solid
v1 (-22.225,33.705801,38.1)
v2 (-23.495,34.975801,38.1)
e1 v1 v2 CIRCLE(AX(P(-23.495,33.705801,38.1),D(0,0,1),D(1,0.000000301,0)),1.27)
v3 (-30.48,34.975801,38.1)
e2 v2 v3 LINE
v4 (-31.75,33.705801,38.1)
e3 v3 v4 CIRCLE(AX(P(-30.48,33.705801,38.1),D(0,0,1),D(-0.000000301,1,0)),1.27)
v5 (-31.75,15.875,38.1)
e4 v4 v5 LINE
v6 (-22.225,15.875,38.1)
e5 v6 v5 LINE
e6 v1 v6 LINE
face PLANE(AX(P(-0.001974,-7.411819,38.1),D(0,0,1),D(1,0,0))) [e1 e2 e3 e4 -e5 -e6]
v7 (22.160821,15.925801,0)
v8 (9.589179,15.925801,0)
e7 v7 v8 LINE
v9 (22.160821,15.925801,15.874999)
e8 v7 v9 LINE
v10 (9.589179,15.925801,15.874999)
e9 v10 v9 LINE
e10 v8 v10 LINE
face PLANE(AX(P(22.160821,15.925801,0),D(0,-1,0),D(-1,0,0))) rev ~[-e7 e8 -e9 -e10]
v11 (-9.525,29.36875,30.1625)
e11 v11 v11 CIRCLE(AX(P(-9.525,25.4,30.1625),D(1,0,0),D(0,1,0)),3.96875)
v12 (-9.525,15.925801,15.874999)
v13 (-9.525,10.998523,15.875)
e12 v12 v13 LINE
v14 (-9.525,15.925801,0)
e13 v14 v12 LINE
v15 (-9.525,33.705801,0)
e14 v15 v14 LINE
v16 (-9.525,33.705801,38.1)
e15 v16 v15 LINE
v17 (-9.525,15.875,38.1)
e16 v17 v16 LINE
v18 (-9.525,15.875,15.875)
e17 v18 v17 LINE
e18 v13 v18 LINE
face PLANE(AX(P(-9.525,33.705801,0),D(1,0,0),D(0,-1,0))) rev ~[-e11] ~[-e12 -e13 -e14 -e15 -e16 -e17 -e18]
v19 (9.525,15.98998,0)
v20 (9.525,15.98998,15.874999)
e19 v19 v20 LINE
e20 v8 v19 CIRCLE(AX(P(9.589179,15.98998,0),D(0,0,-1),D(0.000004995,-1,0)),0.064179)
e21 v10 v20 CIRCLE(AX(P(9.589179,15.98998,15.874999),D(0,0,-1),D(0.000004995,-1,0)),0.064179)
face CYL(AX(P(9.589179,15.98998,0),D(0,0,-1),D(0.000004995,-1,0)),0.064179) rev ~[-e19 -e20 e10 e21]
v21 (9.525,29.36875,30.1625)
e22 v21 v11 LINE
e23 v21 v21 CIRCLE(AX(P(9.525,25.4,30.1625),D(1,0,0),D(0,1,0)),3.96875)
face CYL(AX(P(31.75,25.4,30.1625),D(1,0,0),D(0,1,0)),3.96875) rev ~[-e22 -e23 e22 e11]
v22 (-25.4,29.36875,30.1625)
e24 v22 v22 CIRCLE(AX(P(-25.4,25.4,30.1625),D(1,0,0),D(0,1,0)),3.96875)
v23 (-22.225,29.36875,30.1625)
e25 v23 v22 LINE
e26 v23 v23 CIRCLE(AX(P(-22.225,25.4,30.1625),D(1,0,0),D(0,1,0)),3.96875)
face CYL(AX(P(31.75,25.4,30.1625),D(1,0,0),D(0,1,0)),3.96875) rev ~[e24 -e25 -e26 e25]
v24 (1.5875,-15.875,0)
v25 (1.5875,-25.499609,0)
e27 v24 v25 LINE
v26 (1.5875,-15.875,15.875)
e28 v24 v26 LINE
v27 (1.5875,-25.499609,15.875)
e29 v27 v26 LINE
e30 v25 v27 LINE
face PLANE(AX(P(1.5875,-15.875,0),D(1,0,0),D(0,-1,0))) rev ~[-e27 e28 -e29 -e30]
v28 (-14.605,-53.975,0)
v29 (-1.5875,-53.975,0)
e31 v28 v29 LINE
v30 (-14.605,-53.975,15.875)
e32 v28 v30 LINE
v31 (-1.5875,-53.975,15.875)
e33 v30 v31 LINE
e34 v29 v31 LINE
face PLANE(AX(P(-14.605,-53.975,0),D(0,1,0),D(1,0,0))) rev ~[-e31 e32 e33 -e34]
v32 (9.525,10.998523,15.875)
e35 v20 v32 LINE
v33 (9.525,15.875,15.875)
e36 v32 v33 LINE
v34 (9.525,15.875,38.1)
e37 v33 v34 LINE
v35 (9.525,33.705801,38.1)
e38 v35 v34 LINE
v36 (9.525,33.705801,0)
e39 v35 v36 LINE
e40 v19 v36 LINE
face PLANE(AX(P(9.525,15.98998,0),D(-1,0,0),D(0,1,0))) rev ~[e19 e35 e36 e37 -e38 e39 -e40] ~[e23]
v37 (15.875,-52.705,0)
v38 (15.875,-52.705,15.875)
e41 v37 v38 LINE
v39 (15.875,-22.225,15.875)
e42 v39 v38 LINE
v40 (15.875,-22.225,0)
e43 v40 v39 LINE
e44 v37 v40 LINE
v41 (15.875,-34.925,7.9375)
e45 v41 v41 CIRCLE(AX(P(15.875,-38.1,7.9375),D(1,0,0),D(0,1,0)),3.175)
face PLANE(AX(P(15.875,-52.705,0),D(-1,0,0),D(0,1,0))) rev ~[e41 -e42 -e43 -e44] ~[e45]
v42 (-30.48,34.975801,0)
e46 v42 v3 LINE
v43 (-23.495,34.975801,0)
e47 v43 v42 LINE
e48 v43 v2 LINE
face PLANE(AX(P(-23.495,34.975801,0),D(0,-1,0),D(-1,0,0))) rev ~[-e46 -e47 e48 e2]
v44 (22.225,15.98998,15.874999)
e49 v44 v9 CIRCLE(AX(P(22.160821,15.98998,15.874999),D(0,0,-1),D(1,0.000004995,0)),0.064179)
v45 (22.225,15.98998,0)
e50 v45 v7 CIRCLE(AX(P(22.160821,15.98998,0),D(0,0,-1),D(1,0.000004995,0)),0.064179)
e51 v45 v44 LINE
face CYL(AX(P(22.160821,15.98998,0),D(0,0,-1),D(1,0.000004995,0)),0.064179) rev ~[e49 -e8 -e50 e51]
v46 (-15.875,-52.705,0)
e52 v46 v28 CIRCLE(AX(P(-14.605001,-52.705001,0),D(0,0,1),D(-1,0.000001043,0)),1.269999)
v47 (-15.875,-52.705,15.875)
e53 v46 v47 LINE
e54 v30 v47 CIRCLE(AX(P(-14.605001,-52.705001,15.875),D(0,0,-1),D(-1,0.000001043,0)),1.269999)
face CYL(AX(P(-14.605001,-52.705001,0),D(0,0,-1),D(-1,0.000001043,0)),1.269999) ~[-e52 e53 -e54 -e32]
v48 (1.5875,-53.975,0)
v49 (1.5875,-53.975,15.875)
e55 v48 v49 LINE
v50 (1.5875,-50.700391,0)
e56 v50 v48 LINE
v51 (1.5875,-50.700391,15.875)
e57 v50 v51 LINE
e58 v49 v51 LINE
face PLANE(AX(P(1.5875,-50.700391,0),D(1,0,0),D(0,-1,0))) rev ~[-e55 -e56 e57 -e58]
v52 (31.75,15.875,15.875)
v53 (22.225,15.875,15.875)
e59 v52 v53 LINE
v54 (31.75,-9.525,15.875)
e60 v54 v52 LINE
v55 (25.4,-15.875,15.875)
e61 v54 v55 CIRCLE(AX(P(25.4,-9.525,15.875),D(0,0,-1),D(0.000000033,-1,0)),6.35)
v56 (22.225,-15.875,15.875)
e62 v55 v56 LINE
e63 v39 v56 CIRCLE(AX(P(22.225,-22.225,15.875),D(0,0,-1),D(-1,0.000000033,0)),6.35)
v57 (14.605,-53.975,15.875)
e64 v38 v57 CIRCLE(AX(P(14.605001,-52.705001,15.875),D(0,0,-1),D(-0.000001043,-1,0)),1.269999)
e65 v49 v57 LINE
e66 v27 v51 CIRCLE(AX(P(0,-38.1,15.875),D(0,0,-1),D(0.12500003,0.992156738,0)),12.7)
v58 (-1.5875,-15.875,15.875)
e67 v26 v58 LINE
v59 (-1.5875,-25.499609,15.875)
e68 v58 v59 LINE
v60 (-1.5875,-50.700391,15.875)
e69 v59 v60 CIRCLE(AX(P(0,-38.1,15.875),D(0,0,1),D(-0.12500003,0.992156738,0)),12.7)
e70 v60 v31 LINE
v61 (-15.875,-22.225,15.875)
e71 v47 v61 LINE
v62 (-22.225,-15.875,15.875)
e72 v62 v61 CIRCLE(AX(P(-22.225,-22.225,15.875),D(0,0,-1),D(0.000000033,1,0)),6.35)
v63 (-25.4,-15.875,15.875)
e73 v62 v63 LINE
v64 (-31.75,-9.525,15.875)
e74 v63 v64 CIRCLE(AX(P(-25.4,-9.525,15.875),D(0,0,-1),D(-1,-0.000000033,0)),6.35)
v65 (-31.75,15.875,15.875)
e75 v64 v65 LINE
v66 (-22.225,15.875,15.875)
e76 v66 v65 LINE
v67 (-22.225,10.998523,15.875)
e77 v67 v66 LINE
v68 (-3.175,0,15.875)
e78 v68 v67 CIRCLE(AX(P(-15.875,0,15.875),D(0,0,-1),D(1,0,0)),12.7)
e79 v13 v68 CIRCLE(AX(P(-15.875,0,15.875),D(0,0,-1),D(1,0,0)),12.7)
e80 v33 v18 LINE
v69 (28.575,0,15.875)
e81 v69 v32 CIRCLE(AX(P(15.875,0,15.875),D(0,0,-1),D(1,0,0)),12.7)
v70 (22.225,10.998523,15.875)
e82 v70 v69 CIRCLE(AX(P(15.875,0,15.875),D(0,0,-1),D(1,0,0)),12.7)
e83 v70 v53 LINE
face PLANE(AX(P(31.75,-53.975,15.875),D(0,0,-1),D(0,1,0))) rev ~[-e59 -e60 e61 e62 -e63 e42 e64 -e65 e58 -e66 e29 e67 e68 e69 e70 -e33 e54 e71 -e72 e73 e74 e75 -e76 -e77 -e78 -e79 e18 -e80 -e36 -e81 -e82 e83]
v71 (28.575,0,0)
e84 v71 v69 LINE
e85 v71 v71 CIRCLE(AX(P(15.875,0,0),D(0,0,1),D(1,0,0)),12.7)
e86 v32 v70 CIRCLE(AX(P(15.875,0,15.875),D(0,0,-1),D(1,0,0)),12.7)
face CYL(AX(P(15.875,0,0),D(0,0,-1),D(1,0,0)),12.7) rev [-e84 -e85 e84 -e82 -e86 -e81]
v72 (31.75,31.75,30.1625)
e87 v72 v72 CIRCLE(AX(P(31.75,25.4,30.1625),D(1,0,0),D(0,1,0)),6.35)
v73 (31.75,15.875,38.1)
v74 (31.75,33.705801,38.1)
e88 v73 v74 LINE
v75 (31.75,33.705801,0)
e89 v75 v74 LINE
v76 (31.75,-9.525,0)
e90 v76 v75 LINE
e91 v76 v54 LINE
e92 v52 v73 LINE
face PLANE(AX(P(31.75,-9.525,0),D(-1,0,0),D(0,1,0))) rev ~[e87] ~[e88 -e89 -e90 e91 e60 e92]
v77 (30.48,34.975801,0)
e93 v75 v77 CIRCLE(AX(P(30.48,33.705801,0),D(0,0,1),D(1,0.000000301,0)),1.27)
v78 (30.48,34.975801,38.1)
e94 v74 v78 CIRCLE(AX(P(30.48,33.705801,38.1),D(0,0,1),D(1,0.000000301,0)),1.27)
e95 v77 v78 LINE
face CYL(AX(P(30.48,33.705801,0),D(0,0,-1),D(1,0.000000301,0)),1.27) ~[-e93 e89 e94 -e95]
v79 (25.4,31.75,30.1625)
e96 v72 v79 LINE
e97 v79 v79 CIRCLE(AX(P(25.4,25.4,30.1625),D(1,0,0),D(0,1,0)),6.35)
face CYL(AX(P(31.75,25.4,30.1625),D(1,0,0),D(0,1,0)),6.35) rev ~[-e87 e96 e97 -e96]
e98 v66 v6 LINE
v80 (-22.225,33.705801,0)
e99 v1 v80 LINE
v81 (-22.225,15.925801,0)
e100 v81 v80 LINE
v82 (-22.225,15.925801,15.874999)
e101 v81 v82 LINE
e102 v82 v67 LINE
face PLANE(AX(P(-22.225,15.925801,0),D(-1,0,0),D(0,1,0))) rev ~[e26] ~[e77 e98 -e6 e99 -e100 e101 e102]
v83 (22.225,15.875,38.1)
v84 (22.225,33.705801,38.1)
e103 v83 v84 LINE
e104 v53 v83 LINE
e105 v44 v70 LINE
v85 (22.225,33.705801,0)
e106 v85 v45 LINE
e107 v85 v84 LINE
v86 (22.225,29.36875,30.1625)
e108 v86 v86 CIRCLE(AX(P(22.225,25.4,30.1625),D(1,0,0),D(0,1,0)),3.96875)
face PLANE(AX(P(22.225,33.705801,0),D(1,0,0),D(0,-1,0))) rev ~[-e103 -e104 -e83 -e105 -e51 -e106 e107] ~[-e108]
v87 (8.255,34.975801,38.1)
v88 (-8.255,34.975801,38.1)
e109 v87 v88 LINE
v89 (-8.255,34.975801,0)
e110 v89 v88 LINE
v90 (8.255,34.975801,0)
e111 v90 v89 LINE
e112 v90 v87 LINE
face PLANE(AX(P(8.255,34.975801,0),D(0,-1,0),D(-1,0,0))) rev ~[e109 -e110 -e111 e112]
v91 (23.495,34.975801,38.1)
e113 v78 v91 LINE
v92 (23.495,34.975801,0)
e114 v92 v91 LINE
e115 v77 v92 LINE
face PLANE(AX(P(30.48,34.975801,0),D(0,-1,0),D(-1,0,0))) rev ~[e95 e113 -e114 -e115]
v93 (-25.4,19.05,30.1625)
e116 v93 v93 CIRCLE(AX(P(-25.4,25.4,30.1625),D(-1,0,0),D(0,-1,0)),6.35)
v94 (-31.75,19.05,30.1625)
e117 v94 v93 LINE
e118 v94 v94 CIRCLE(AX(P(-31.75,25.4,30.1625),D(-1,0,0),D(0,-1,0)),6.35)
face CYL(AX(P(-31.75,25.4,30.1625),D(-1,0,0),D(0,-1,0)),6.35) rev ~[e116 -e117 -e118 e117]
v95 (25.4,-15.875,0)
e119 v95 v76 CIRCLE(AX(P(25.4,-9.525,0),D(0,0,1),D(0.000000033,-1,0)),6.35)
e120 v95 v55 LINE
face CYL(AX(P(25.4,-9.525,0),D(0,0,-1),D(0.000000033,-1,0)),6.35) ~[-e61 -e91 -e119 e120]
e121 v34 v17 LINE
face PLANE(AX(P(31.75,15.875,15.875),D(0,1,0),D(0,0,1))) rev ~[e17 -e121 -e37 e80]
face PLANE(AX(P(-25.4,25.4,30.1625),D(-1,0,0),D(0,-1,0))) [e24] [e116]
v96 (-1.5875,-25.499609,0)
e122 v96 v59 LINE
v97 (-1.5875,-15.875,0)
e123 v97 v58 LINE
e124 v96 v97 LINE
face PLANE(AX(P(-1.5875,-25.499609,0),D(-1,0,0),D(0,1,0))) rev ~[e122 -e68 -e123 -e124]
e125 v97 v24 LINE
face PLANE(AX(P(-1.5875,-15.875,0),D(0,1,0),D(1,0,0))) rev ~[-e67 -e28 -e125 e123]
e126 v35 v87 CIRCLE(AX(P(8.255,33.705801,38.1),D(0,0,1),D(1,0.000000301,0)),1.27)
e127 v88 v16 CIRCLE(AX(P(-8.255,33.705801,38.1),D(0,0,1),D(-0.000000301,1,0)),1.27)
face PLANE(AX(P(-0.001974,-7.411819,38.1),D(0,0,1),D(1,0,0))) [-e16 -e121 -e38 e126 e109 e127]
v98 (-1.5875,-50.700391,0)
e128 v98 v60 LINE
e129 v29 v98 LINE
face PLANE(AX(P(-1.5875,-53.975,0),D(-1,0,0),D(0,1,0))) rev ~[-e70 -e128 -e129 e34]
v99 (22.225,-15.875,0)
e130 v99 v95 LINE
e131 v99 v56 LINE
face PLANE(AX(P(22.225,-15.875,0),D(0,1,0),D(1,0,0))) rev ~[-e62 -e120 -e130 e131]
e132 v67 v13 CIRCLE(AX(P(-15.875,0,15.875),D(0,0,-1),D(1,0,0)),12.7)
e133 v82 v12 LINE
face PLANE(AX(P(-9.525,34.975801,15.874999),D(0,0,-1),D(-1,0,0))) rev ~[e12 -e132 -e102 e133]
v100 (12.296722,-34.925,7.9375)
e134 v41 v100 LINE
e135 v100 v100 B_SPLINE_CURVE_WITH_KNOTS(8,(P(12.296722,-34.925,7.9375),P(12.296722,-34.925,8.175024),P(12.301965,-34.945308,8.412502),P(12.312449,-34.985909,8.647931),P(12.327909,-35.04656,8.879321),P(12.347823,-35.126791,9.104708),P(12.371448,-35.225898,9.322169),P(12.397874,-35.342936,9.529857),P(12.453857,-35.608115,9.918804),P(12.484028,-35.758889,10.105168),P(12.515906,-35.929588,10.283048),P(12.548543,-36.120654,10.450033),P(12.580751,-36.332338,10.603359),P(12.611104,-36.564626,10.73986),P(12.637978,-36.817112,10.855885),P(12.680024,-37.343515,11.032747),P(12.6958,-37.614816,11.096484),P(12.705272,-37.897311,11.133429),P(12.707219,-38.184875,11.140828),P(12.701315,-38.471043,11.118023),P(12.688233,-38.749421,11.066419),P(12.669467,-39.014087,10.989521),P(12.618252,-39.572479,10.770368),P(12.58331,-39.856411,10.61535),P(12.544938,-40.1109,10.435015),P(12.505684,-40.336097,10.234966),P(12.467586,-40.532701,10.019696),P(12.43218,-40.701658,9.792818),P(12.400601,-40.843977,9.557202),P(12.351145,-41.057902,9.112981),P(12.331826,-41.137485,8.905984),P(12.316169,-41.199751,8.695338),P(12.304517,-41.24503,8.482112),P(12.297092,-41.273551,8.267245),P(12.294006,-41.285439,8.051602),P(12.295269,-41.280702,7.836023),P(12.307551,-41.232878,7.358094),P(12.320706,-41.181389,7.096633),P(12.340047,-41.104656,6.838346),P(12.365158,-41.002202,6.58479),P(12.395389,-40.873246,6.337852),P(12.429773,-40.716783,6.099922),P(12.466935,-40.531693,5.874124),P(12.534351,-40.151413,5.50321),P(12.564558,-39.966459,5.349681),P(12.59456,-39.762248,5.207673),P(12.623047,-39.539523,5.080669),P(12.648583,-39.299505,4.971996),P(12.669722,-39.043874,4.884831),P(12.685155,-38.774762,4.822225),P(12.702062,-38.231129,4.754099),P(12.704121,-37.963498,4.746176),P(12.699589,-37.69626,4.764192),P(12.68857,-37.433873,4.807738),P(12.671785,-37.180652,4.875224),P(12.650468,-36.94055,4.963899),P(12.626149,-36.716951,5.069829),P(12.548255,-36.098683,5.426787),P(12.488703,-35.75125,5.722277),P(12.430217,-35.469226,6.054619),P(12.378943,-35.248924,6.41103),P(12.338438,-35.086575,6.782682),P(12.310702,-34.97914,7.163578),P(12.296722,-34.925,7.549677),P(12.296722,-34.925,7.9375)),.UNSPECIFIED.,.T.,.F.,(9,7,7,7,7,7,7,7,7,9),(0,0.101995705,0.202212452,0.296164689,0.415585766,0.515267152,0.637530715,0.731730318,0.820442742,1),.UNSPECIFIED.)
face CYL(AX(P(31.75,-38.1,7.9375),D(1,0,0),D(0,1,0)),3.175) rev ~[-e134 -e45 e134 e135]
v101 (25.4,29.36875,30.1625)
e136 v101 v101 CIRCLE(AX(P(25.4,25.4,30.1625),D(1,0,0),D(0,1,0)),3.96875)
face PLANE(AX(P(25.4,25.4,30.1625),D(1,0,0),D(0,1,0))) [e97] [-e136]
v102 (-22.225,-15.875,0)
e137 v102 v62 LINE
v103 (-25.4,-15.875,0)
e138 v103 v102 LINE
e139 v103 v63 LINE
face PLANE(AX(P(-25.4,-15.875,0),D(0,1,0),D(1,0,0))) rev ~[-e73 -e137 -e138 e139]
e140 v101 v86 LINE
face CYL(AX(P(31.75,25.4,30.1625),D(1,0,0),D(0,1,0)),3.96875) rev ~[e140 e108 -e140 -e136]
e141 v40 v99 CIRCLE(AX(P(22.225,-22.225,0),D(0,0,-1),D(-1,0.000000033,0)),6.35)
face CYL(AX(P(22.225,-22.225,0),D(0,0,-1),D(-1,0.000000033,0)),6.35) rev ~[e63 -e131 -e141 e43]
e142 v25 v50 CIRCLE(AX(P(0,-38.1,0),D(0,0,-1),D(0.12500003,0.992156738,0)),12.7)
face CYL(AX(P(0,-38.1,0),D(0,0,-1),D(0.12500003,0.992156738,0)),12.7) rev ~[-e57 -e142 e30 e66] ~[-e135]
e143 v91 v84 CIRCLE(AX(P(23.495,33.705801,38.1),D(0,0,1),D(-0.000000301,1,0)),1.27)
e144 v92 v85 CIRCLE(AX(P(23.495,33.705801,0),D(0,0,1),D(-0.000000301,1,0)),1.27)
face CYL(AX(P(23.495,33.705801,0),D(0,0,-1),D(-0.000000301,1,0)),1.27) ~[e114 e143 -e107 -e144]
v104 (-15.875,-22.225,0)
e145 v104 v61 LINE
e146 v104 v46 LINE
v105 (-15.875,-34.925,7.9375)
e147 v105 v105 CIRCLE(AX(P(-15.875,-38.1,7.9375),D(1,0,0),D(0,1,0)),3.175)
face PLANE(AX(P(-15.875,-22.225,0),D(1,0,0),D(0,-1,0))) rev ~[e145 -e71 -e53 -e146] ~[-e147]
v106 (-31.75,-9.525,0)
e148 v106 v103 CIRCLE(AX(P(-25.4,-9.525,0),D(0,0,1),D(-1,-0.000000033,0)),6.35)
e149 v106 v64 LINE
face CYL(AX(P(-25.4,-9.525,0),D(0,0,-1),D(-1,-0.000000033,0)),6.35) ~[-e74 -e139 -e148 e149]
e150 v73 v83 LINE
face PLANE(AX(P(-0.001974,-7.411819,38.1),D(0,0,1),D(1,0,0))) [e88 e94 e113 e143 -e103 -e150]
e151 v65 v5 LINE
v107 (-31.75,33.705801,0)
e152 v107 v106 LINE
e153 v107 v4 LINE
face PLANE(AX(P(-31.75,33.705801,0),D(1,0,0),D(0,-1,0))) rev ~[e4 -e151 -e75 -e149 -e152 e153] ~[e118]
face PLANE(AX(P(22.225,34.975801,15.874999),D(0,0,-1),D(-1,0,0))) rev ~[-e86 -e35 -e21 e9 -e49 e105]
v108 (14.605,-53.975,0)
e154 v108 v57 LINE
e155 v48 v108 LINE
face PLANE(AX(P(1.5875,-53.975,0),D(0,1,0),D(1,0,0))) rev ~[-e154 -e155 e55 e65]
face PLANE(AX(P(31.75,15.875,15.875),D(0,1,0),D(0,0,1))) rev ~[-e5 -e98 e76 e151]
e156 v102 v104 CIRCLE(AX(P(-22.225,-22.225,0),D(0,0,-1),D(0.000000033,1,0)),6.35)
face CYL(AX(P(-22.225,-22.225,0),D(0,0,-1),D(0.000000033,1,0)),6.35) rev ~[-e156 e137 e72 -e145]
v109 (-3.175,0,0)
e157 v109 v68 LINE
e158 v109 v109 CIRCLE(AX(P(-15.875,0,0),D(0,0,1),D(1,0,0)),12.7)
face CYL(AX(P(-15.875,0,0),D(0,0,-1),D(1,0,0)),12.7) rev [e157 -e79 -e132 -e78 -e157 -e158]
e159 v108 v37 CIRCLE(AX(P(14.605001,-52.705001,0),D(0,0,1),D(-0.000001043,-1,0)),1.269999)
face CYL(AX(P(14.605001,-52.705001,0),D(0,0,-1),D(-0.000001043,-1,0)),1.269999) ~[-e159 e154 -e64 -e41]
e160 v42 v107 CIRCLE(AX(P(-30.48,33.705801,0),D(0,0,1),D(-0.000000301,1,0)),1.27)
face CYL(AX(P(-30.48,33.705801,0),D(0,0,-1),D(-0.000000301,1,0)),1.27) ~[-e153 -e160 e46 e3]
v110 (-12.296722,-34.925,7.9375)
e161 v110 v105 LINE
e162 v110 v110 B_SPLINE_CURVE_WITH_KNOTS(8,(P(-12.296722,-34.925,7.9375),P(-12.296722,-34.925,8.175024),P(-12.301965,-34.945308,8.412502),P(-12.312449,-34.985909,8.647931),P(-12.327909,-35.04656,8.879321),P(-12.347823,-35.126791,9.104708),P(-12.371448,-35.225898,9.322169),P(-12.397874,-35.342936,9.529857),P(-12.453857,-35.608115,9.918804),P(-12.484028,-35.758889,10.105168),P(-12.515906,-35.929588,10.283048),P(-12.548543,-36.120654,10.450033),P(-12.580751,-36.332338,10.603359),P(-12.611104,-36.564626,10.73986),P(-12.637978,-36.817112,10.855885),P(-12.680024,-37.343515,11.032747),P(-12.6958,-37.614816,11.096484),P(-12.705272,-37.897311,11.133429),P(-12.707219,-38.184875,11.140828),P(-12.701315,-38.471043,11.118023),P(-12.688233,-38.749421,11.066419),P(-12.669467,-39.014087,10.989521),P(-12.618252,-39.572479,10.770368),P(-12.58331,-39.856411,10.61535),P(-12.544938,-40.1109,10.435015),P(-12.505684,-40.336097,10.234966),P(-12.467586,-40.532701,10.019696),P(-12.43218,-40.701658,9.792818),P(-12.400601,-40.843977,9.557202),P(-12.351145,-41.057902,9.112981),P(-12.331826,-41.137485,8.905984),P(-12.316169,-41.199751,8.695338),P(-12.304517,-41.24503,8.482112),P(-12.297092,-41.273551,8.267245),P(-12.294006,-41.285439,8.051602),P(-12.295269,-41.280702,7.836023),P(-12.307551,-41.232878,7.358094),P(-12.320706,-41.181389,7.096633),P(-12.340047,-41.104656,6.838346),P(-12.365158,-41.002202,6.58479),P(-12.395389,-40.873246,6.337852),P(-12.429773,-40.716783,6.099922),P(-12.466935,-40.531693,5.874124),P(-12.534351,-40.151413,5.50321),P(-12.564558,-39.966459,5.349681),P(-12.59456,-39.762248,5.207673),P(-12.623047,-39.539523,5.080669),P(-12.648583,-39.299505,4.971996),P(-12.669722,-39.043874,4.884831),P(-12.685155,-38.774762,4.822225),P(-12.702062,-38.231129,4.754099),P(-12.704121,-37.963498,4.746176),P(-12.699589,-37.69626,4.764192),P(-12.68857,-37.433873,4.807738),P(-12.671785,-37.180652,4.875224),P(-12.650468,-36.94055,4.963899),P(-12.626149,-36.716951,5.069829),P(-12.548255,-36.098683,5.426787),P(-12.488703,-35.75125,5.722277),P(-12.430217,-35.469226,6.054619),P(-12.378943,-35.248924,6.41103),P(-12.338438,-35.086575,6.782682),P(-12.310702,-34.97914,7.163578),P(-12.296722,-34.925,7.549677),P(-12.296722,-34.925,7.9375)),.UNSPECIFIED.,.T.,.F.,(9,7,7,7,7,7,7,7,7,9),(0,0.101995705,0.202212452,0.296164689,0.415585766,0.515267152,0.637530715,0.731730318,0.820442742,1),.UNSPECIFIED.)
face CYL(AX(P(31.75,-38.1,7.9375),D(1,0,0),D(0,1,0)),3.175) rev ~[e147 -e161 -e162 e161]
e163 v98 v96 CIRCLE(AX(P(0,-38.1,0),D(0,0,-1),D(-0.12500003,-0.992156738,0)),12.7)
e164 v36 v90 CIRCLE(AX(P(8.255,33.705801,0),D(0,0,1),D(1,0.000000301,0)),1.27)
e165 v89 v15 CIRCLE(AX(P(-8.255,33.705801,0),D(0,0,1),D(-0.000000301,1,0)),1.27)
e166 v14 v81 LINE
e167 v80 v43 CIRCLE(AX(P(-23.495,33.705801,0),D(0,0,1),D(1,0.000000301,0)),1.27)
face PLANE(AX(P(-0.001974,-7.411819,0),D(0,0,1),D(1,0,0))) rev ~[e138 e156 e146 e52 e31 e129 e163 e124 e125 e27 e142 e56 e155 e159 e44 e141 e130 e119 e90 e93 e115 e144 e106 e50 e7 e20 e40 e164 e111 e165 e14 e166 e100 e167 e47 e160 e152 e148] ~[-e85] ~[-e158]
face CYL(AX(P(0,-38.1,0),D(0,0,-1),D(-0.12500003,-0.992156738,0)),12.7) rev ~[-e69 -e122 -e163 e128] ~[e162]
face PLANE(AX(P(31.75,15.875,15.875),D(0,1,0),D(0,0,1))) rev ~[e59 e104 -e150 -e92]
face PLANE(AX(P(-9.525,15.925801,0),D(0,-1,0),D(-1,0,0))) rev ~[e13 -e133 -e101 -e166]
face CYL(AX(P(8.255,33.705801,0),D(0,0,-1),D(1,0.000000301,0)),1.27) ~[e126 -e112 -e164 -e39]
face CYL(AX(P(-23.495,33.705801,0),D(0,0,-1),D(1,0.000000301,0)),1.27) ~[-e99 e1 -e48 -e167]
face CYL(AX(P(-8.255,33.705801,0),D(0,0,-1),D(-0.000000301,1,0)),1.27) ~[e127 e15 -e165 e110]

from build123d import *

# Parameters (mm, degrees)
F0_R      = 12.7
F1_DEPTH  = 38.1
F2_W      = 69.85
F2_H      = 22.225
F3_DEPTH  = 63.501
F4_W      = 12.7
F4_H      = 29.490311
F5_DEPTH  = 88.951801
F6_R      = 3.96875
F6_R_2    = 3.175
F7_DEPTH  = 63.501
F8_R      = 6.35
F9_DEPTH  = 6.35
F10_R     = 6.35
F11_DEPTH = 6.35


with BuildPart() as f1:
    # F0 (on Top) → F1 (new body)
    with BuildSketch(Plane.XY):
        with BuildLine():
            ThreePointArc((-1.5875, -50.700391), (-12.7, -38.1), (-1.5875, -25.499609))
            Line((-1.5875, -25.499609), (-1.5875, -15.875))
            Line((-1.5875, -15.875), (1.5875, -15.875))
            Line((1.5875, -15.875), (1.5875, -25.499609))
            ThreePointArc((1.5875, -25.499609), (12.7, -38.1), (1.5875, -50.700391))
            Line((1.5875, -50.700391), (1.5875, -53.975))
            Line((1.5875, -53.975), (14.605, -53.975))
            ThreePointArc((14.605, -53.975), (15.503026, -53.603026), (15.875, -52.705))
            Line((15.875, -52.705), (15.875, -22.225))
            ThreePointArc((15.875, -22.225), (17.734872, -17.734872), (22.225, -15.875))
            Line((22.225, -15.875), (25.4, -15.875))
            ThreePointArc((25.4, -15.875), (29.890128, -14.015128), (31.75, -9.525))
            Line((31.75, -9.525), (31.75, 33.705801))
            ThreePointArc((31.75, 33.705801), (31.378026, 34.603826), (30.48, 34.975801))
            Line((30.48, 34.975801), (23.495, 34.975801))
            ThreePointArc((23.495, 34.975801), (22.596974, 34.603826), (22.225, 33.705801))
            Line((22.225, 33.705801), (22.225, 15.98998))
            ThreePointArc((22.225, 15.98998), (22.206202, 15.944598), (22.160821, 15.925801))
            Line((22.160821, 15.925801), (9.589179, 15.925801))
            ThreePointArc((9.589179, 15.925801), (9.543798, 15.944598), (9.525, 15.98998))
            Line((9.525, 15.98998), (9.525, 33.705801))
            ThreePointArc((9.525, 33.705801), (9.153026, 34.603826), (8.255, 34.975801))
            Line((8.255, 34.975801), (-8.255, 34.975801))
            ThreePointArc((-8.255, 34.975801), (-9.153026, 34.603826), (-9.525, 33.705801))
            Line((-9.525, 33.705801), (-9.525, 15.925801))
            Line((-9.525, 15.925801), (-22.225, 15.925801))
            Line((-22.225, 15.925801), (-22.225, 33.705801))
            ThreePointArc((-22.225, 33.705801), (-22.596974, 34.603826), (-23.495, 34.975801))
            Line((-23.495, 34.975801), (-30.48, 34.975801))
            ThreePointArc((-30.48, 34.975801), (-31.378026, 34.603826), (-31.75, 33.705801))
            Line((-31.75, 33.705801), (-31.75, -9.525))
            ThreePointArc((-31.75, -9.525), (-29.890128, -14.015128), (-25.4, -15.875))
            Line((-25.4, -15.875), (-22.225, -15.875))
            ThreePointArc((-22.225, -15.875), (-17.734872, -17.734872), (-15.875, -22.225))
            Line((-15.875, -22.225), (-15.875, -52.705))
            ThreePointArc((-15.875, -52.705), (-15.503026, -53.603026), (-14.605, -53.975))
            Line((-14.605, -53.975), (-1.5875, -53.975))
            Line((-1.5875, -53.975), (-1.5875, -50.700391))
        make_face()
        with Locations((-15.875, 0)):
            Circle(F0_R, mode=Mode.SUBTRACT)
        with Locations((15.875, 0)):
            Circle(F0_R, mode=Mode.SUBTRACT)
    extrude(amount=F1_DEPTH)

    # F2 (on face) → F3 (cut, through all)
    with BuildSketch(Plane.YZ.offset(31.75)):
        with Locations((-19.05, 26.9875)):
            Rectangle(F2_W, F2_H)
    extrude(amount=-F3_DEPTH, mode=Mode.SUBTRACT)

    # F4 (on face) → F5 (cut, through all)
    with BuildSketch(Plane(origin=(0, 34.975801, 0), x_dir=(-1, 0, 0), z_dir=(0, 1, 0))):
        with Locations((15.875, 30.620155)):
            Rectangle(F4_W, F4_H)
        with Locations((-15.875, 30.620155)):
            Rectangle(F4_W, F4_H)
    extrude(amount=-F5_DEPTH, mode=Mode.SUBTRACT)

    # F6 (on face) → F7 (cut, through all)
    with BuildSketch(Plane.YZ.offset(31.75)):
        with Locations((25.4, 30.1625)):
            Circle(F6_R)
        with Locations((-38.1, 7.9375)):
            Circle(F6_R_2)
    extrude(amount=-F7_DEPTH, mode=Mode.SUBTRACT)

    # F8 (on face) → F9 (cut)
    with BuildSketch(Plane.YZ.offset(31.75)):
        with Locations((25.4, 30.1625)):
            Circle(F8_R)
    extrude(amount=-F9_DEPTH, mode=Mode.SUBTRACT)

    # F10 (on face) → F11 (cut)
    with BuildSketch(Plane(origin=(-31.75, 0, 0), x_dir=(0, -1, 0), z_dir=(-1, 0, 0))):
        with Locations((-25.4, 30.1625)):
            Circle(F10_R)
    extrude(amount=-F11_DEPTH, mode=Mode.SUBTRACT)


solid = f1.part
